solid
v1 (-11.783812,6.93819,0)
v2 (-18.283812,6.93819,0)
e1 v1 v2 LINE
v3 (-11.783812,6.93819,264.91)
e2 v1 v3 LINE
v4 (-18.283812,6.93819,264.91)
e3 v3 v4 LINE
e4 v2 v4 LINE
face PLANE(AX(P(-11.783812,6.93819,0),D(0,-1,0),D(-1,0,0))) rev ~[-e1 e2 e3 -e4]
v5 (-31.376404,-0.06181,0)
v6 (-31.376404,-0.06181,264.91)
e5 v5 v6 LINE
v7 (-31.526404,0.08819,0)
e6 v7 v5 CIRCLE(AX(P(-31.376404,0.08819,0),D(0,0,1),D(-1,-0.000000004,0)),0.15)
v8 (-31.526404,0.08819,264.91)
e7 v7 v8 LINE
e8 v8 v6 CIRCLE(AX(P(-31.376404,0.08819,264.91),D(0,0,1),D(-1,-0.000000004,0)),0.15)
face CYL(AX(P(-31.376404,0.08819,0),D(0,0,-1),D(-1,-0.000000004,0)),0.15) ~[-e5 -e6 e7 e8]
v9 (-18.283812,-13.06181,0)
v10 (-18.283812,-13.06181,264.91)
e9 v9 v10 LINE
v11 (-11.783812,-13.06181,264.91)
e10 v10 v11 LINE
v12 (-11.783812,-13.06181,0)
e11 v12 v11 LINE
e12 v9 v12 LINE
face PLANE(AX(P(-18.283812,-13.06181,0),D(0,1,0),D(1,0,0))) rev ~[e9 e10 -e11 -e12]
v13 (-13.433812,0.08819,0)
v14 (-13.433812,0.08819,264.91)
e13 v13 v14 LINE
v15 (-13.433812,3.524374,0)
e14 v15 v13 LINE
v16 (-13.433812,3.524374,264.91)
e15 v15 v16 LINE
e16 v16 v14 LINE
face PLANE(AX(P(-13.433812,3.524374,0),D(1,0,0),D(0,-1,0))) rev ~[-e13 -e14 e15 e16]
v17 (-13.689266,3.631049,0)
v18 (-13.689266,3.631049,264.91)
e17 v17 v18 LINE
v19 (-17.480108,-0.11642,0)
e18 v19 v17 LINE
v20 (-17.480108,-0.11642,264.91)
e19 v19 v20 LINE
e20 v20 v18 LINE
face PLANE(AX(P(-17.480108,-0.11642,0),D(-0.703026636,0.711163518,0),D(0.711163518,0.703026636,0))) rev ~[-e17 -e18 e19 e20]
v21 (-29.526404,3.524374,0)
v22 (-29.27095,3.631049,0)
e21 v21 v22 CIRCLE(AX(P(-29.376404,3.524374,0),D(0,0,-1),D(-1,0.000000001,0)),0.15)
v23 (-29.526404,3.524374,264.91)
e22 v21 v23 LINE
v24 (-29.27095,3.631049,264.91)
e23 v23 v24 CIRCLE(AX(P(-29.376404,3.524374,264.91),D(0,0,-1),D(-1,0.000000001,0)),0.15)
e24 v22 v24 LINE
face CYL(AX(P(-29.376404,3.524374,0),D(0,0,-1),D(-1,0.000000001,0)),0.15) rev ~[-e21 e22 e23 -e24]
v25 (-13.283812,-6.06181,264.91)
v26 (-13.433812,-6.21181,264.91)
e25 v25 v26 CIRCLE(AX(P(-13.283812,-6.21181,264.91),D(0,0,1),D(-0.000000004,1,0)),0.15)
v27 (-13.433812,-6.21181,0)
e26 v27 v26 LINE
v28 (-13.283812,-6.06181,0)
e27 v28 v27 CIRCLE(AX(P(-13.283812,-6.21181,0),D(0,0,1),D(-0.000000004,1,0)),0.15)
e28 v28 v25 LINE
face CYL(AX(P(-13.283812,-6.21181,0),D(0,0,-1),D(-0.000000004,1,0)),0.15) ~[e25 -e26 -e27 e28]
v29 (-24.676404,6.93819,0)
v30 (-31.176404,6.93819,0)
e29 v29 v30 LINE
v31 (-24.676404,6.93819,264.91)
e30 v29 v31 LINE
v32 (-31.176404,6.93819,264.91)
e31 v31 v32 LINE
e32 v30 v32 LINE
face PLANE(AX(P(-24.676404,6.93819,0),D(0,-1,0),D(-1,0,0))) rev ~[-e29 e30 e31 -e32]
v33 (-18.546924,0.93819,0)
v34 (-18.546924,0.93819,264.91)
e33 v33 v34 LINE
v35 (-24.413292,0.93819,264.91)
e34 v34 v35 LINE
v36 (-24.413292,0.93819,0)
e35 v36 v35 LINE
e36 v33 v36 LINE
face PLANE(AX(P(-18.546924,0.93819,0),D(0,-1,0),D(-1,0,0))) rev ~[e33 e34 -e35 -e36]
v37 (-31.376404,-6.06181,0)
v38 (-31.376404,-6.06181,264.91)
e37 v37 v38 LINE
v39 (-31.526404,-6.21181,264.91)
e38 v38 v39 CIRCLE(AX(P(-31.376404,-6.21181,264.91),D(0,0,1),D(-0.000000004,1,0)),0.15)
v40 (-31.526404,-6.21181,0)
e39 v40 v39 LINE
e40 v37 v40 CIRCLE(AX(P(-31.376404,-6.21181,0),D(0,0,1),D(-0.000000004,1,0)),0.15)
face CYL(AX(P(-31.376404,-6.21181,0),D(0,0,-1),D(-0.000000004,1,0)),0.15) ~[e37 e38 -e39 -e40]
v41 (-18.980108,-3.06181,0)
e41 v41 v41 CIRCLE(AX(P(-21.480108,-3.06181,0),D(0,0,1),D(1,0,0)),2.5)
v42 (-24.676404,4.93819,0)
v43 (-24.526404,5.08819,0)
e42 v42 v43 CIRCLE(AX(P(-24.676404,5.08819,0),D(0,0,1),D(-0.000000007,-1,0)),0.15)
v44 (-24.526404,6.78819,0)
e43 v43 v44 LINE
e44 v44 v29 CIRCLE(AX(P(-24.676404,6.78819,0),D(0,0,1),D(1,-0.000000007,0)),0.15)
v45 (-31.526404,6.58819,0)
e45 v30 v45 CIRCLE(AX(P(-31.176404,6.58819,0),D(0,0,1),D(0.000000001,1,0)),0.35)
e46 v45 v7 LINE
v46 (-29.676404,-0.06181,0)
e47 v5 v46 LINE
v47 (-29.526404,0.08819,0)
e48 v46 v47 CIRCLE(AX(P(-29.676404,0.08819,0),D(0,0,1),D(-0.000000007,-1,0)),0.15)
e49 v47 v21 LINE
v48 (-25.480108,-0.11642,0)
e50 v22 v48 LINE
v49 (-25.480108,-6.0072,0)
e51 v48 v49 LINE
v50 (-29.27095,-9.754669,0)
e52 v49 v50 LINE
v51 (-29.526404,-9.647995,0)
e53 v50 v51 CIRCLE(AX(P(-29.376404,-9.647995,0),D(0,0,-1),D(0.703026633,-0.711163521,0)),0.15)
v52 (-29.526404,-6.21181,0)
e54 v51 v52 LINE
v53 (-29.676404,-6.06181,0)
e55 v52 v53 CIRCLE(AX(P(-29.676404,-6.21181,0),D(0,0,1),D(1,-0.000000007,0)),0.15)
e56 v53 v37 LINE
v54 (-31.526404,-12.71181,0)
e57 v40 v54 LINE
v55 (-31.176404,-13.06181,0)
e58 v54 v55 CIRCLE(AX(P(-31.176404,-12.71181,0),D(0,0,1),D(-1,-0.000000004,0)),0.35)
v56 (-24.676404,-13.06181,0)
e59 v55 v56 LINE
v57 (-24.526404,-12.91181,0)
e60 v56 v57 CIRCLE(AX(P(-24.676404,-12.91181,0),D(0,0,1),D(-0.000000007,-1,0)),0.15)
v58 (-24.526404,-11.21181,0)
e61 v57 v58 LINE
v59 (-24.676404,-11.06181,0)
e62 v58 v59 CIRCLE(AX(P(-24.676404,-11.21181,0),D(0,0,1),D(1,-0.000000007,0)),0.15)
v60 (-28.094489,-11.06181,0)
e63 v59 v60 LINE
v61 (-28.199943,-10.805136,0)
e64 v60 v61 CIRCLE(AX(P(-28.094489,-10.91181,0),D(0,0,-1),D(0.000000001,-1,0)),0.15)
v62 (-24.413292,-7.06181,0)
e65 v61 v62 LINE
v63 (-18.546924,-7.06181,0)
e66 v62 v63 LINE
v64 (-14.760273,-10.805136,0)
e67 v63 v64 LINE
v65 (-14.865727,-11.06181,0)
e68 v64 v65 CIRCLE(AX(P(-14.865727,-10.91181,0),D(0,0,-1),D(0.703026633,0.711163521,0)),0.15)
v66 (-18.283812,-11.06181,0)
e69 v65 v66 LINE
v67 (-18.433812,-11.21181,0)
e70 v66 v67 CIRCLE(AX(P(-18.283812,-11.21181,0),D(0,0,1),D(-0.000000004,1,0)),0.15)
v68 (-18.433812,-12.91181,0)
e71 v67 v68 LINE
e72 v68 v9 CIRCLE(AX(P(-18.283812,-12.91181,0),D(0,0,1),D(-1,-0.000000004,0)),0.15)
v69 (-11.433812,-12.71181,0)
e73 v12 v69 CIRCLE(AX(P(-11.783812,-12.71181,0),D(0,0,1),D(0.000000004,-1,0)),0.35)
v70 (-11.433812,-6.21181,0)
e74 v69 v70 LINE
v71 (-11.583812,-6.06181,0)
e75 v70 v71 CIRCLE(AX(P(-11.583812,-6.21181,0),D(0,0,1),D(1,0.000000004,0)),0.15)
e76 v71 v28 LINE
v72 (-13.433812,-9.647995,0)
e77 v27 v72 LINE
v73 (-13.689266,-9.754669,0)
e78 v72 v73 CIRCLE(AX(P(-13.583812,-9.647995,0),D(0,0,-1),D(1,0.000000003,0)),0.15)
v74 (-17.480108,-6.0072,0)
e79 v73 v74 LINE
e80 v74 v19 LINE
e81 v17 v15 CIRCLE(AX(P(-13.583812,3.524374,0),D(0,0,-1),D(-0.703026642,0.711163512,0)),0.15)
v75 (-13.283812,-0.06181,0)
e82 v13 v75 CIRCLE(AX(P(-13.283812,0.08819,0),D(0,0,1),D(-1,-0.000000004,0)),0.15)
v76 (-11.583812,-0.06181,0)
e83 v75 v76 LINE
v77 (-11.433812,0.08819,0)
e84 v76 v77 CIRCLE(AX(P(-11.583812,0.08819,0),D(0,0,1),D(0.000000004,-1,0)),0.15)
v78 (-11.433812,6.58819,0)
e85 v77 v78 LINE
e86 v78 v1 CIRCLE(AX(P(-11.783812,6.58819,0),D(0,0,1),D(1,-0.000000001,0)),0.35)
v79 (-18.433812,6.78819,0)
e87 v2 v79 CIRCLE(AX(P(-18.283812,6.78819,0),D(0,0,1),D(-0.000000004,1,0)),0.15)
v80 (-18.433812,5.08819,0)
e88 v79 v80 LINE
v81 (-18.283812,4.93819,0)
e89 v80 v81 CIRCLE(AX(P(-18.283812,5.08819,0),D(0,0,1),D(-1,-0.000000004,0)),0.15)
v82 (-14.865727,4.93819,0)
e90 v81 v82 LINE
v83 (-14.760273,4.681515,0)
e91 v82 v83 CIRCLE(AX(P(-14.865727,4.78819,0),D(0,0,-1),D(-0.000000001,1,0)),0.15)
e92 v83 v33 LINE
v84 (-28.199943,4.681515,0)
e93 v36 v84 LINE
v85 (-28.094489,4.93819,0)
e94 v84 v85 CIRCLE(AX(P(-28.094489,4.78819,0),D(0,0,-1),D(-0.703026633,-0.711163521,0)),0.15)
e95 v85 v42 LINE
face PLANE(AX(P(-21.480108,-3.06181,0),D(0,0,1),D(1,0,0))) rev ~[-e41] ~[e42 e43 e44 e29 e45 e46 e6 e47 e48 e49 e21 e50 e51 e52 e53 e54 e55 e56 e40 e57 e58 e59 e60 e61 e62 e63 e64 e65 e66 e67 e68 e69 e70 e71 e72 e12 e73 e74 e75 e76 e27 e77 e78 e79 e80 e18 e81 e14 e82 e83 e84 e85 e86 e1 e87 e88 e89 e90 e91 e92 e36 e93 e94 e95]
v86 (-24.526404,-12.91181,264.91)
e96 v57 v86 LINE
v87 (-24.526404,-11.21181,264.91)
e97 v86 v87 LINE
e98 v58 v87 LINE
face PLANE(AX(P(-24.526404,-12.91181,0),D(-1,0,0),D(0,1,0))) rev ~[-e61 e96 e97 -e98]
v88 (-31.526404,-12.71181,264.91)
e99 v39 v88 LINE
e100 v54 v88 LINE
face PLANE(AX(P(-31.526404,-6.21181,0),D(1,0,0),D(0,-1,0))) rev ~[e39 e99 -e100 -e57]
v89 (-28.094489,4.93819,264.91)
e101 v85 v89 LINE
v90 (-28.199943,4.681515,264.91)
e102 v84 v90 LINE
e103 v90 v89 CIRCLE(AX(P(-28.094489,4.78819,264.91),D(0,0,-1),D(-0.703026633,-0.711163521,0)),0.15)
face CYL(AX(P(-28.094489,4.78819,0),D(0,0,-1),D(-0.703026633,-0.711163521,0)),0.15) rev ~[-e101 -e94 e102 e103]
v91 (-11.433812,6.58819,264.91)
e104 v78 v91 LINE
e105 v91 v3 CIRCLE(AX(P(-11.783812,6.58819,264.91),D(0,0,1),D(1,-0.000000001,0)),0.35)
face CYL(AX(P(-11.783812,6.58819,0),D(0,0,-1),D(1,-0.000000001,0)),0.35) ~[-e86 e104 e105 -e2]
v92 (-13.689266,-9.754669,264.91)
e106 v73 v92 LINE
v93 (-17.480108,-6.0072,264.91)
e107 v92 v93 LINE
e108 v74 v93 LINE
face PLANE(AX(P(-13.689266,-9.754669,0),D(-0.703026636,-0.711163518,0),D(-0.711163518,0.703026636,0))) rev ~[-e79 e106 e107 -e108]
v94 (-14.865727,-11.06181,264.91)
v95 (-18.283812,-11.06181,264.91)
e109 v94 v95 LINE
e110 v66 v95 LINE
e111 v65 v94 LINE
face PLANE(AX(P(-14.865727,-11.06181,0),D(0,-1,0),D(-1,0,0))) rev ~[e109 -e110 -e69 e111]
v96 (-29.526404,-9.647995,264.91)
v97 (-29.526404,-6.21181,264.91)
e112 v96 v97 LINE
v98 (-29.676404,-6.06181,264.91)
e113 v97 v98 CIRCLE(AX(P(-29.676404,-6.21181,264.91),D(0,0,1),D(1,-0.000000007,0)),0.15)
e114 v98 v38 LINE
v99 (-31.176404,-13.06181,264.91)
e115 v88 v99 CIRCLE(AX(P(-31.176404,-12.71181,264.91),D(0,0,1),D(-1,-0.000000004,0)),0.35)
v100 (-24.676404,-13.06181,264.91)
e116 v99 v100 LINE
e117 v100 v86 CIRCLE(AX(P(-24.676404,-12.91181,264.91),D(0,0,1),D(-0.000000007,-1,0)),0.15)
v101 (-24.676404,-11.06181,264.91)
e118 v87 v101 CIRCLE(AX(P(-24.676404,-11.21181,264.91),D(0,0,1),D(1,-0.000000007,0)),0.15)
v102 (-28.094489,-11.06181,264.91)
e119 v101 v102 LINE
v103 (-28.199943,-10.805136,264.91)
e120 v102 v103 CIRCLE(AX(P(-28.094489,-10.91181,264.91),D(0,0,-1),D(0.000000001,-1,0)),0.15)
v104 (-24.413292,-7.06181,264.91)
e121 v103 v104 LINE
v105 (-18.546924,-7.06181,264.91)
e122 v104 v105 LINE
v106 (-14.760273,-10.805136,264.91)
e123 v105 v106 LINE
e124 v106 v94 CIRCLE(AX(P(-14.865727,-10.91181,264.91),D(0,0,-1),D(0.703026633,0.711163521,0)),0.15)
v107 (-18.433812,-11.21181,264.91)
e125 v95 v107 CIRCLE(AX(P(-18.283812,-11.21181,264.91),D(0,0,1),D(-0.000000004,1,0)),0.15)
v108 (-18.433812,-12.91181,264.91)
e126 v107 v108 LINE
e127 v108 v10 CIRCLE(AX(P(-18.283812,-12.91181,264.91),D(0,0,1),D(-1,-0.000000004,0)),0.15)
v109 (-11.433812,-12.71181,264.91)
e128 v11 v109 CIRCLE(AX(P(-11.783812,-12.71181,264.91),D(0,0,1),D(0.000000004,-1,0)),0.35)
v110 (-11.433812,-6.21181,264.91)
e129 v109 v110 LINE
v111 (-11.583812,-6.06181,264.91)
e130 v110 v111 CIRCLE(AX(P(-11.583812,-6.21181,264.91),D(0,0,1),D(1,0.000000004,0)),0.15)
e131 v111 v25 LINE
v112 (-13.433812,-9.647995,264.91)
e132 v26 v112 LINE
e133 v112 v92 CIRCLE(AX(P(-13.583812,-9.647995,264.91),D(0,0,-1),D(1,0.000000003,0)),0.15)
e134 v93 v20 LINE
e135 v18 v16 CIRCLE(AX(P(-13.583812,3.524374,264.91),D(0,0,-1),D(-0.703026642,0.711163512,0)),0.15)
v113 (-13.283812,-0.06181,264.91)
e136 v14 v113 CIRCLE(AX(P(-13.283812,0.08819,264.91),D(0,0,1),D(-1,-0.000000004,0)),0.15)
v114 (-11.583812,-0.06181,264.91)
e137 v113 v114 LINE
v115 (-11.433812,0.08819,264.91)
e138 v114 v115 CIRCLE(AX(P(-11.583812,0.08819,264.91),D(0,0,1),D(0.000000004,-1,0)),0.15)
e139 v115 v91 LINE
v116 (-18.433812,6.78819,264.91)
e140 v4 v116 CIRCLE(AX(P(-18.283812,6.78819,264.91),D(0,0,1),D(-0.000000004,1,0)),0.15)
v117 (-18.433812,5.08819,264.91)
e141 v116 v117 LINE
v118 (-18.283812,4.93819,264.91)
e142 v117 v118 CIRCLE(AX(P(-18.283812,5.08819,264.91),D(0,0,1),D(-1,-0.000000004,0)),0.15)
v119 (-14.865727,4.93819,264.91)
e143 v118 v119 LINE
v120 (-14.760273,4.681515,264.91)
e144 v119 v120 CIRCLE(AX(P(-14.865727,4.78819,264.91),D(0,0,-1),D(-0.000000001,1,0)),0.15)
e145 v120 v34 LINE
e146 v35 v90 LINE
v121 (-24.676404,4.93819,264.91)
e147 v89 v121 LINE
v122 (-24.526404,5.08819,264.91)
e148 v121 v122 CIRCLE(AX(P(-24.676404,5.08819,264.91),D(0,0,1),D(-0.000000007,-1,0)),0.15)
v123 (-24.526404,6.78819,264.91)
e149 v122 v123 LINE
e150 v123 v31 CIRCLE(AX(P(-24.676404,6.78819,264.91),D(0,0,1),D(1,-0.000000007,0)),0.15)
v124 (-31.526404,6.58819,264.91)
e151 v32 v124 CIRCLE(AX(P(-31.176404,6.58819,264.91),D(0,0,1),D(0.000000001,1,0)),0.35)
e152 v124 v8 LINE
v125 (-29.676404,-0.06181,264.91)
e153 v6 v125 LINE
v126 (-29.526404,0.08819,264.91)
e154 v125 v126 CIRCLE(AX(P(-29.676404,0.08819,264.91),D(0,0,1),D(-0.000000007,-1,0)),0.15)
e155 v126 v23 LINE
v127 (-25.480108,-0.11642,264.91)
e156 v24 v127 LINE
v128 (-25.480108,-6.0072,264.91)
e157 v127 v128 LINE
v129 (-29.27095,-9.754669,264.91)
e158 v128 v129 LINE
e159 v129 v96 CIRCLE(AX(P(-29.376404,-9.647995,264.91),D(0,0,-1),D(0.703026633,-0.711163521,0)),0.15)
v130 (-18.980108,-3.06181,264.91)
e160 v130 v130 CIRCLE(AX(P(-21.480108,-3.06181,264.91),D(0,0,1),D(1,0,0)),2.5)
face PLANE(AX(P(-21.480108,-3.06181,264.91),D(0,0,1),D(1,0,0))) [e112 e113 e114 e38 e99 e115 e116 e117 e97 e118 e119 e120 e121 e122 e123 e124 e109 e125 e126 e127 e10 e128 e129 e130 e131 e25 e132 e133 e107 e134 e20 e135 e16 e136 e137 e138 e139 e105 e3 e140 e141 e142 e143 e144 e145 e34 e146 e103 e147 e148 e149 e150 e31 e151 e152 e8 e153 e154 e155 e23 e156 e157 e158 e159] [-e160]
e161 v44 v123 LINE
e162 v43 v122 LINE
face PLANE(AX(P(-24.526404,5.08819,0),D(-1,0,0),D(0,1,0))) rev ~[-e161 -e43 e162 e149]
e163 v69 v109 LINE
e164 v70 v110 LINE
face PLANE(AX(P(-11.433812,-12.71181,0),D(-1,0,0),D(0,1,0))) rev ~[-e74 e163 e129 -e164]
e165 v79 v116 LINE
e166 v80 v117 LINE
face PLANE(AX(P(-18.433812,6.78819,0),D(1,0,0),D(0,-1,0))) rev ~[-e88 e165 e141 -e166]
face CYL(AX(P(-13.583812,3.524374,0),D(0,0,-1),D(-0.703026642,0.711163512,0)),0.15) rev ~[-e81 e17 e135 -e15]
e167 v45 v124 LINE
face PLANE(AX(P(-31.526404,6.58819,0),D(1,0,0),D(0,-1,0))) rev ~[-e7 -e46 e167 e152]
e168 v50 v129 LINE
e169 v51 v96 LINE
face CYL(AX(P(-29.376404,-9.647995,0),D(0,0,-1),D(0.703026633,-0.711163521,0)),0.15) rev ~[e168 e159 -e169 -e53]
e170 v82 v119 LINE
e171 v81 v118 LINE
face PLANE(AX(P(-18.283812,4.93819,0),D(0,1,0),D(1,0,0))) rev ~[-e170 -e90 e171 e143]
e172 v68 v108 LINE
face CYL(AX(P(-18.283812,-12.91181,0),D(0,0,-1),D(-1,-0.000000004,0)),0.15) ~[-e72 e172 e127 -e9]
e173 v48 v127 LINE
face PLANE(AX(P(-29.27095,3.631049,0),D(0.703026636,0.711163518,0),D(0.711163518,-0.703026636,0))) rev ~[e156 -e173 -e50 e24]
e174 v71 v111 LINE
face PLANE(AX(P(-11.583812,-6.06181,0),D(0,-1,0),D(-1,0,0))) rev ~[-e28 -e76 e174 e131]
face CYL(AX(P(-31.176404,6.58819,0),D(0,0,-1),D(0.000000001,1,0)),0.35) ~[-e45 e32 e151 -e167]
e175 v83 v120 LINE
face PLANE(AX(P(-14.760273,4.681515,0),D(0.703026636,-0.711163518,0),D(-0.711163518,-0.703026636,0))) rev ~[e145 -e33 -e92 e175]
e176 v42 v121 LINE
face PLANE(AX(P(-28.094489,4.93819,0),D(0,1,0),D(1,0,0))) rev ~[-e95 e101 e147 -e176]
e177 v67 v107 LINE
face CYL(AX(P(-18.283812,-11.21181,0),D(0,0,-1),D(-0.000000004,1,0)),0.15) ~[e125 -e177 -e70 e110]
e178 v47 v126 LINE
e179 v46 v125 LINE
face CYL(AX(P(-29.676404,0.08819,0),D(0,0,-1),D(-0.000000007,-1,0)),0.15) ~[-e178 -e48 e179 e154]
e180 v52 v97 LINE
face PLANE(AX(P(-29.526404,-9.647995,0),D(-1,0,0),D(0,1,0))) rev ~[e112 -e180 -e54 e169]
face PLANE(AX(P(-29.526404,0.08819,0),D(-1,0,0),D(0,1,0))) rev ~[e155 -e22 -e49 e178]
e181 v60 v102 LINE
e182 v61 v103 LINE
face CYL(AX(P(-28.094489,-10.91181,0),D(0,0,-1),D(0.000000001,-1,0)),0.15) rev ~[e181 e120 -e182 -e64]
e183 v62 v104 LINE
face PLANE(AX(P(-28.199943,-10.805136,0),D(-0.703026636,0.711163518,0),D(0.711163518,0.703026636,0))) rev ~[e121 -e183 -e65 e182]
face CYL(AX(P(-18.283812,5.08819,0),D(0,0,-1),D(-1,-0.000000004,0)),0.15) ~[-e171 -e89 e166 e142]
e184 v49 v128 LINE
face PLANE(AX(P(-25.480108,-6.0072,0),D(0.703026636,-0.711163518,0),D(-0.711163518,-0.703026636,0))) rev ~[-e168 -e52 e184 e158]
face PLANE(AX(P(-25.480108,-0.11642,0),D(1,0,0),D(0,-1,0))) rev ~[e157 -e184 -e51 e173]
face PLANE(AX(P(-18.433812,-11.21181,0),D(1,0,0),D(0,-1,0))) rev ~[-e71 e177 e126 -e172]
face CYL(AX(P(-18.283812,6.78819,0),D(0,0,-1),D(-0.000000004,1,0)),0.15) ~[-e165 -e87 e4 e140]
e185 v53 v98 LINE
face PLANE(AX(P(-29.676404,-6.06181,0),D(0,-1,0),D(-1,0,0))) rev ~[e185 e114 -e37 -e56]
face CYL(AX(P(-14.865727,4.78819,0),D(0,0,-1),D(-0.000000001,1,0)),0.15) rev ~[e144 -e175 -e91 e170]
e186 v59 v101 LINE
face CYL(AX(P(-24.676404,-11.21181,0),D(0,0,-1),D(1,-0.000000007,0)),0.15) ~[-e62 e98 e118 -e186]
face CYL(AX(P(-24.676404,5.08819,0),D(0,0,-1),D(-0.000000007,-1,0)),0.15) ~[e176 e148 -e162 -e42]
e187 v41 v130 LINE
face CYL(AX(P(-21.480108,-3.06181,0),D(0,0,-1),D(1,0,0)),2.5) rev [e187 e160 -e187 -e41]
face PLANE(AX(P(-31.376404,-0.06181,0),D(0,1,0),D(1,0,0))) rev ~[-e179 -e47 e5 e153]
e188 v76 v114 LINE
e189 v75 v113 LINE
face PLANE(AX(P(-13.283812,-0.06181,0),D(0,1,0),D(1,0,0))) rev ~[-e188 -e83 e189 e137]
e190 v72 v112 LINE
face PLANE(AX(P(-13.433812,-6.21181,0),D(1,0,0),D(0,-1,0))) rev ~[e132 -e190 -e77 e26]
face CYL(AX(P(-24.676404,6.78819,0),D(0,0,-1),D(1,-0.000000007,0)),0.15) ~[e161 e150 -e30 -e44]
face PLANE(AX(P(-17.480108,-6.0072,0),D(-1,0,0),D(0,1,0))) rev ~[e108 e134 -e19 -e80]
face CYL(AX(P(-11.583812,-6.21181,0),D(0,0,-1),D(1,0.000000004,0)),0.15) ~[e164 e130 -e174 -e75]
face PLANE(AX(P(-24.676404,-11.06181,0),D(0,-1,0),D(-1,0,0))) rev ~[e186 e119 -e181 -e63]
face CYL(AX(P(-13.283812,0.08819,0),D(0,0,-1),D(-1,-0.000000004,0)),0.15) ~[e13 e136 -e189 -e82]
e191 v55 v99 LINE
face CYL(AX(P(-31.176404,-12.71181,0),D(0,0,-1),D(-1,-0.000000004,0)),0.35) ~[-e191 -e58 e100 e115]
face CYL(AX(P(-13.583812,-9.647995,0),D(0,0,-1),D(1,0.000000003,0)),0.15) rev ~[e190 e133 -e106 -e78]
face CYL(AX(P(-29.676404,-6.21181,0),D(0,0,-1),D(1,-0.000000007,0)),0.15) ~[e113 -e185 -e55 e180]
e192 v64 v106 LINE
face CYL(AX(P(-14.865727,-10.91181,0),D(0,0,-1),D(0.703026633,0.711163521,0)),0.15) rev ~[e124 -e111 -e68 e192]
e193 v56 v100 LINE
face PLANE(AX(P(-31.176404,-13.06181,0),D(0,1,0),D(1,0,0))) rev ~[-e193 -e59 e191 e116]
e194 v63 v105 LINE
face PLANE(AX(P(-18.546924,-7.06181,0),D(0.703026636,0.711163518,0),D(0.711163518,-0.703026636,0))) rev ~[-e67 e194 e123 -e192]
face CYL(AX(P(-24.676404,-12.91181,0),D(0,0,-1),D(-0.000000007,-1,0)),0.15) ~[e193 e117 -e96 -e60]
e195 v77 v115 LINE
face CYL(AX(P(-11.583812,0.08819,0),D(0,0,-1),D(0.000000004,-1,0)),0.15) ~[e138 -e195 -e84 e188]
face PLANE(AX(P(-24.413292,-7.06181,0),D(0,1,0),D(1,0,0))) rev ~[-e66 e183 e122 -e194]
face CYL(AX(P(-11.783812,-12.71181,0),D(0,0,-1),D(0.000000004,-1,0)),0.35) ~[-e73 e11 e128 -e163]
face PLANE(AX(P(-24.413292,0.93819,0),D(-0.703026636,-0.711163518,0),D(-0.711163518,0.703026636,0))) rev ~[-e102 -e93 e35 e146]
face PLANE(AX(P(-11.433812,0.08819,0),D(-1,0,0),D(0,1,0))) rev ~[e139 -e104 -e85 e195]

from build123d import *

# Parameters (mm, degrees)
SKETCH1_R           = 2.5
BOSS_EXTRUDE1_DEPTH = 264.91


with BuildPart() as part:
    # Sketch1 → Boss-Extrude1 (new body)
    with BuildSketch(Plane.XY):
        with BuildLine():
            Line((-31.376404226, -0.06181021), (-29.676404226, -0.06181021))
            ThreePointArc((-29.676404226, -0.06181021), (-29.570338208, -0.017876227), (-29.526404226, 0.08818979))
            Line((-29.526404226, 0.08818979), (-29.526404226, 3.524374304))
            ThreePointArc((-29.526404226, 3.524374304), (-29.43420518, 3.662790523), (-29.27095023, 3.631048831))
            Line((-29.27095023, 3.631048831), (-25.480107929, -0.116419988))
            Line((-25.480107929, -0.116419988), (-25.480107929, -6.007200432))
            Line((-25.480107929, -6.007200432), (-29.27095023, -9.754669251))
            ThreePointArc((-29.27095023, -9.754669251), (-29.43420518, -9.786410942), (-29.526404226, -9.647994723))
            Line((-29.526404226, -9.647994723), (-29.526404226, -6.21181021))
            ThreePointArc((-29.526404226, -6.21181021), (-29.570338208, -6.105744193), (-29.676404226, -6.06181021))
            Line((-29.676404226, -6.06181021), (-31.376404226, -6.06181021))
            ThreePointArc((-31.376404226, -6.06181021), (-31.482470243, -6.105744193), (-31.526404226, -6.21181021))
            Line((-31.526404226, -6.21181021), (-31.526404226, -12.71181021))
            ThreePointArc((-31.526404226, -12.71181021), (-31.423891599, -12.959297583), (-31.176404226, -13.06181021))
            Line((-31.176404226, -13.06181021), (-24.676404226, -13.06181021))
            ThreePointArc((-24.676404226, -13.06181021), (-24.570338208, -13.017876227), (-24.526404226, -12.91181021))
            Line((-24.526404226, -12.91181021), (-24.526404226, -11.21181021))
            ThreePointArc((-24.526404226, -11.21181021), (-24.570338208, -11.105744193), (-24.676404226, -11.06181021))
            Line((-24.676404226, -11.06181021), (-28.094489023, -11.06181021))
            ThreePointArc((-28.094489023, -11.06181021), (-28.233235517, -10.96881381), (-28.199943018, -10.805135682))
            Line((-28.199943018, -10.805135682), (-24.41329202, -7.06181021))
            Line((-24.41329202, -7.06181021), (-18.546923839, -7.06181021))
            Line((-18.546923839, -7.06181021), (-14.760272841, -10.805135682))
            ThreePointArc((-14.760272841, -10.805135682), (-14.726980342, -10.96881381), (-14.865726836, -11.06181021))
            Line((-14.865726836, -11.06181021), (-18.283811633, -11.06181021))
            ThreePointArc((-18.283811633, -11.06181021), (-18.38987765, -11.105744193), (-18.433811633, -11.21181021))
            Line((-18.433811633, -11.21181021), (-18.433811633, -12.91181021))
            ThreePointArc((-18.433811633, -12.91181021), (-18.38987765, -13.017876227), (-18.283811633, -13.06181021))
            Line((-18.283811633, -13.06181021), (-11.783811633, -13.06181021))
            ThreePointArc((-11.783811633, -13.06181021), (-11.53632426, -12.959297583), (-11.433811633, -12.71181021))
            Line((-11.433811633, -12.71181021), (-11.433811633, -6.21181021))
            ThreePointArc((-11.433811633, -6.21181021), (-11.477745616, -6.105744193), (-11.583811633, -6.06181021))
            Line((-11.583811633, -6.06181021), (-13.283811633, -6.06181021))
            ThreePointArc((-13.283811633, -6.06181021), (-13.38987765, -6.105744193), (-13.433811633, -6.21181021))
            Line((-13.433811633, -6.21181021), (-13.433811633, -9.647994723))
            ThreePointArc((-13.433811633, -9.647994723), (-13.526010678, -9.786410942), (-13.689265628, -9.754669251))
            Line((-13.689265628, -9.754669251), (-17.480107929, -6.007200432))
            Line((-17.480107929, -6.007200432), (-17.480107929, -0.116419988))
            Line((-17.480107929, -0.116419988), (-13.689265628, 3.631048831))
            ThreePointArc((-13.689265628, 3.631048831), (-13.526010678, 3.662790523), (-13.433811633, 3.524374304))
            Line((-13.433811633, 3.524374304), (-13.433811633, 0.08818979))
            ThreePointArc((-13.433811633, 0.08818979), (-13.38987765, -0.017876227), (-13.283811633, -0.06181021))
            Line((-13.283811633, -0.06181021), (-11.583811633, -0.06181021))
            ThreePointArc((-11.583811633, -0.06181021), (-11.477745616, -0.017876227), (-11.433811633, 0.08818979))
            Line((-11.433811633, 0.08818979), (-11.433811633, 6.58818979))
            ThreePointArc((-11.433811633, 6.58818979), (-11.53632426, 6.835677164), (-11.783811633, 6.93818979))
            Line((-11.783811633, 6.93818979), (-18.283811633, 6.93818979))
            ThreePointArc((-18.283811633, 6.93818979), (-18.38987765, 6.894255807), (-18.433811633, 6.78818979))
            Line((-18.433811633, 6.78818979), (-18.433811633, 5.08818979))
            ThreePointArc((-18.433811633, 5.08818979), (-18.38987765, 4.982123773), (-18.283811633, 4.93818979))
            Line((-18.283811633, 4.93818979), (-14.865726836, 4.93818979))
            ThreePointArc((-14.865726836, 4.93818979), (-14.726980342, 4.84519339), (-14.760272841, 4.681515262))
            Line((-14.760272841, 4.681515262), (-18.546923839, 0.93818979))
            Line((-18.546923839, 0.93818979), (-24.41329202, 0.93818979))
            Line((-24.41329202, 0.93818979), (-28.199943018, 4.681515262))
            ThreePointArc((-28.199943018, 4.681515262), (-28.233235517, 4.84519339), (-28.094489023, 4.93818979))
            Line((-28.094489023, 4.93818979), (-24.676404226, 4.93818979))
            ThreePointArc((-24.676404226, 4.93818979), (-24.570338208, 4.982123773), (-24.526404226, 5.08818979))
            Line((-24.526404226, 5.08818979), (-24.526404226, 6.78818979))
            ThreePointArc((-24.526404226, 6.78818979), (-24.570338208, 6.894255807), (-24.676404226, 6.93818979))
            Line((-24.676404226, 6.93818979), (-31.176404226, 6.93818979))
            ThreePointArc((-31.176404226, 6.93818979), (-31.423891599, 6.835677164), (-31.526404226, 6.58818979))
            Line((-31.526404226, 6.58818979), (-31.526404226, 0.08818979))
            ThreePointArc((-31.526404226, 0.08818979), (-31.482470243, -0.017876227), (-31.376404226, -0.06181021))
        make_face()
        with Locations((-21.480107929, -3.06181021)):
            Circle(SKETCH1_R, mode=Mode.SUBTRACT)
    extrude(amount=BOSS_EXTRUDE1_DEPTH)


solid = part.part
